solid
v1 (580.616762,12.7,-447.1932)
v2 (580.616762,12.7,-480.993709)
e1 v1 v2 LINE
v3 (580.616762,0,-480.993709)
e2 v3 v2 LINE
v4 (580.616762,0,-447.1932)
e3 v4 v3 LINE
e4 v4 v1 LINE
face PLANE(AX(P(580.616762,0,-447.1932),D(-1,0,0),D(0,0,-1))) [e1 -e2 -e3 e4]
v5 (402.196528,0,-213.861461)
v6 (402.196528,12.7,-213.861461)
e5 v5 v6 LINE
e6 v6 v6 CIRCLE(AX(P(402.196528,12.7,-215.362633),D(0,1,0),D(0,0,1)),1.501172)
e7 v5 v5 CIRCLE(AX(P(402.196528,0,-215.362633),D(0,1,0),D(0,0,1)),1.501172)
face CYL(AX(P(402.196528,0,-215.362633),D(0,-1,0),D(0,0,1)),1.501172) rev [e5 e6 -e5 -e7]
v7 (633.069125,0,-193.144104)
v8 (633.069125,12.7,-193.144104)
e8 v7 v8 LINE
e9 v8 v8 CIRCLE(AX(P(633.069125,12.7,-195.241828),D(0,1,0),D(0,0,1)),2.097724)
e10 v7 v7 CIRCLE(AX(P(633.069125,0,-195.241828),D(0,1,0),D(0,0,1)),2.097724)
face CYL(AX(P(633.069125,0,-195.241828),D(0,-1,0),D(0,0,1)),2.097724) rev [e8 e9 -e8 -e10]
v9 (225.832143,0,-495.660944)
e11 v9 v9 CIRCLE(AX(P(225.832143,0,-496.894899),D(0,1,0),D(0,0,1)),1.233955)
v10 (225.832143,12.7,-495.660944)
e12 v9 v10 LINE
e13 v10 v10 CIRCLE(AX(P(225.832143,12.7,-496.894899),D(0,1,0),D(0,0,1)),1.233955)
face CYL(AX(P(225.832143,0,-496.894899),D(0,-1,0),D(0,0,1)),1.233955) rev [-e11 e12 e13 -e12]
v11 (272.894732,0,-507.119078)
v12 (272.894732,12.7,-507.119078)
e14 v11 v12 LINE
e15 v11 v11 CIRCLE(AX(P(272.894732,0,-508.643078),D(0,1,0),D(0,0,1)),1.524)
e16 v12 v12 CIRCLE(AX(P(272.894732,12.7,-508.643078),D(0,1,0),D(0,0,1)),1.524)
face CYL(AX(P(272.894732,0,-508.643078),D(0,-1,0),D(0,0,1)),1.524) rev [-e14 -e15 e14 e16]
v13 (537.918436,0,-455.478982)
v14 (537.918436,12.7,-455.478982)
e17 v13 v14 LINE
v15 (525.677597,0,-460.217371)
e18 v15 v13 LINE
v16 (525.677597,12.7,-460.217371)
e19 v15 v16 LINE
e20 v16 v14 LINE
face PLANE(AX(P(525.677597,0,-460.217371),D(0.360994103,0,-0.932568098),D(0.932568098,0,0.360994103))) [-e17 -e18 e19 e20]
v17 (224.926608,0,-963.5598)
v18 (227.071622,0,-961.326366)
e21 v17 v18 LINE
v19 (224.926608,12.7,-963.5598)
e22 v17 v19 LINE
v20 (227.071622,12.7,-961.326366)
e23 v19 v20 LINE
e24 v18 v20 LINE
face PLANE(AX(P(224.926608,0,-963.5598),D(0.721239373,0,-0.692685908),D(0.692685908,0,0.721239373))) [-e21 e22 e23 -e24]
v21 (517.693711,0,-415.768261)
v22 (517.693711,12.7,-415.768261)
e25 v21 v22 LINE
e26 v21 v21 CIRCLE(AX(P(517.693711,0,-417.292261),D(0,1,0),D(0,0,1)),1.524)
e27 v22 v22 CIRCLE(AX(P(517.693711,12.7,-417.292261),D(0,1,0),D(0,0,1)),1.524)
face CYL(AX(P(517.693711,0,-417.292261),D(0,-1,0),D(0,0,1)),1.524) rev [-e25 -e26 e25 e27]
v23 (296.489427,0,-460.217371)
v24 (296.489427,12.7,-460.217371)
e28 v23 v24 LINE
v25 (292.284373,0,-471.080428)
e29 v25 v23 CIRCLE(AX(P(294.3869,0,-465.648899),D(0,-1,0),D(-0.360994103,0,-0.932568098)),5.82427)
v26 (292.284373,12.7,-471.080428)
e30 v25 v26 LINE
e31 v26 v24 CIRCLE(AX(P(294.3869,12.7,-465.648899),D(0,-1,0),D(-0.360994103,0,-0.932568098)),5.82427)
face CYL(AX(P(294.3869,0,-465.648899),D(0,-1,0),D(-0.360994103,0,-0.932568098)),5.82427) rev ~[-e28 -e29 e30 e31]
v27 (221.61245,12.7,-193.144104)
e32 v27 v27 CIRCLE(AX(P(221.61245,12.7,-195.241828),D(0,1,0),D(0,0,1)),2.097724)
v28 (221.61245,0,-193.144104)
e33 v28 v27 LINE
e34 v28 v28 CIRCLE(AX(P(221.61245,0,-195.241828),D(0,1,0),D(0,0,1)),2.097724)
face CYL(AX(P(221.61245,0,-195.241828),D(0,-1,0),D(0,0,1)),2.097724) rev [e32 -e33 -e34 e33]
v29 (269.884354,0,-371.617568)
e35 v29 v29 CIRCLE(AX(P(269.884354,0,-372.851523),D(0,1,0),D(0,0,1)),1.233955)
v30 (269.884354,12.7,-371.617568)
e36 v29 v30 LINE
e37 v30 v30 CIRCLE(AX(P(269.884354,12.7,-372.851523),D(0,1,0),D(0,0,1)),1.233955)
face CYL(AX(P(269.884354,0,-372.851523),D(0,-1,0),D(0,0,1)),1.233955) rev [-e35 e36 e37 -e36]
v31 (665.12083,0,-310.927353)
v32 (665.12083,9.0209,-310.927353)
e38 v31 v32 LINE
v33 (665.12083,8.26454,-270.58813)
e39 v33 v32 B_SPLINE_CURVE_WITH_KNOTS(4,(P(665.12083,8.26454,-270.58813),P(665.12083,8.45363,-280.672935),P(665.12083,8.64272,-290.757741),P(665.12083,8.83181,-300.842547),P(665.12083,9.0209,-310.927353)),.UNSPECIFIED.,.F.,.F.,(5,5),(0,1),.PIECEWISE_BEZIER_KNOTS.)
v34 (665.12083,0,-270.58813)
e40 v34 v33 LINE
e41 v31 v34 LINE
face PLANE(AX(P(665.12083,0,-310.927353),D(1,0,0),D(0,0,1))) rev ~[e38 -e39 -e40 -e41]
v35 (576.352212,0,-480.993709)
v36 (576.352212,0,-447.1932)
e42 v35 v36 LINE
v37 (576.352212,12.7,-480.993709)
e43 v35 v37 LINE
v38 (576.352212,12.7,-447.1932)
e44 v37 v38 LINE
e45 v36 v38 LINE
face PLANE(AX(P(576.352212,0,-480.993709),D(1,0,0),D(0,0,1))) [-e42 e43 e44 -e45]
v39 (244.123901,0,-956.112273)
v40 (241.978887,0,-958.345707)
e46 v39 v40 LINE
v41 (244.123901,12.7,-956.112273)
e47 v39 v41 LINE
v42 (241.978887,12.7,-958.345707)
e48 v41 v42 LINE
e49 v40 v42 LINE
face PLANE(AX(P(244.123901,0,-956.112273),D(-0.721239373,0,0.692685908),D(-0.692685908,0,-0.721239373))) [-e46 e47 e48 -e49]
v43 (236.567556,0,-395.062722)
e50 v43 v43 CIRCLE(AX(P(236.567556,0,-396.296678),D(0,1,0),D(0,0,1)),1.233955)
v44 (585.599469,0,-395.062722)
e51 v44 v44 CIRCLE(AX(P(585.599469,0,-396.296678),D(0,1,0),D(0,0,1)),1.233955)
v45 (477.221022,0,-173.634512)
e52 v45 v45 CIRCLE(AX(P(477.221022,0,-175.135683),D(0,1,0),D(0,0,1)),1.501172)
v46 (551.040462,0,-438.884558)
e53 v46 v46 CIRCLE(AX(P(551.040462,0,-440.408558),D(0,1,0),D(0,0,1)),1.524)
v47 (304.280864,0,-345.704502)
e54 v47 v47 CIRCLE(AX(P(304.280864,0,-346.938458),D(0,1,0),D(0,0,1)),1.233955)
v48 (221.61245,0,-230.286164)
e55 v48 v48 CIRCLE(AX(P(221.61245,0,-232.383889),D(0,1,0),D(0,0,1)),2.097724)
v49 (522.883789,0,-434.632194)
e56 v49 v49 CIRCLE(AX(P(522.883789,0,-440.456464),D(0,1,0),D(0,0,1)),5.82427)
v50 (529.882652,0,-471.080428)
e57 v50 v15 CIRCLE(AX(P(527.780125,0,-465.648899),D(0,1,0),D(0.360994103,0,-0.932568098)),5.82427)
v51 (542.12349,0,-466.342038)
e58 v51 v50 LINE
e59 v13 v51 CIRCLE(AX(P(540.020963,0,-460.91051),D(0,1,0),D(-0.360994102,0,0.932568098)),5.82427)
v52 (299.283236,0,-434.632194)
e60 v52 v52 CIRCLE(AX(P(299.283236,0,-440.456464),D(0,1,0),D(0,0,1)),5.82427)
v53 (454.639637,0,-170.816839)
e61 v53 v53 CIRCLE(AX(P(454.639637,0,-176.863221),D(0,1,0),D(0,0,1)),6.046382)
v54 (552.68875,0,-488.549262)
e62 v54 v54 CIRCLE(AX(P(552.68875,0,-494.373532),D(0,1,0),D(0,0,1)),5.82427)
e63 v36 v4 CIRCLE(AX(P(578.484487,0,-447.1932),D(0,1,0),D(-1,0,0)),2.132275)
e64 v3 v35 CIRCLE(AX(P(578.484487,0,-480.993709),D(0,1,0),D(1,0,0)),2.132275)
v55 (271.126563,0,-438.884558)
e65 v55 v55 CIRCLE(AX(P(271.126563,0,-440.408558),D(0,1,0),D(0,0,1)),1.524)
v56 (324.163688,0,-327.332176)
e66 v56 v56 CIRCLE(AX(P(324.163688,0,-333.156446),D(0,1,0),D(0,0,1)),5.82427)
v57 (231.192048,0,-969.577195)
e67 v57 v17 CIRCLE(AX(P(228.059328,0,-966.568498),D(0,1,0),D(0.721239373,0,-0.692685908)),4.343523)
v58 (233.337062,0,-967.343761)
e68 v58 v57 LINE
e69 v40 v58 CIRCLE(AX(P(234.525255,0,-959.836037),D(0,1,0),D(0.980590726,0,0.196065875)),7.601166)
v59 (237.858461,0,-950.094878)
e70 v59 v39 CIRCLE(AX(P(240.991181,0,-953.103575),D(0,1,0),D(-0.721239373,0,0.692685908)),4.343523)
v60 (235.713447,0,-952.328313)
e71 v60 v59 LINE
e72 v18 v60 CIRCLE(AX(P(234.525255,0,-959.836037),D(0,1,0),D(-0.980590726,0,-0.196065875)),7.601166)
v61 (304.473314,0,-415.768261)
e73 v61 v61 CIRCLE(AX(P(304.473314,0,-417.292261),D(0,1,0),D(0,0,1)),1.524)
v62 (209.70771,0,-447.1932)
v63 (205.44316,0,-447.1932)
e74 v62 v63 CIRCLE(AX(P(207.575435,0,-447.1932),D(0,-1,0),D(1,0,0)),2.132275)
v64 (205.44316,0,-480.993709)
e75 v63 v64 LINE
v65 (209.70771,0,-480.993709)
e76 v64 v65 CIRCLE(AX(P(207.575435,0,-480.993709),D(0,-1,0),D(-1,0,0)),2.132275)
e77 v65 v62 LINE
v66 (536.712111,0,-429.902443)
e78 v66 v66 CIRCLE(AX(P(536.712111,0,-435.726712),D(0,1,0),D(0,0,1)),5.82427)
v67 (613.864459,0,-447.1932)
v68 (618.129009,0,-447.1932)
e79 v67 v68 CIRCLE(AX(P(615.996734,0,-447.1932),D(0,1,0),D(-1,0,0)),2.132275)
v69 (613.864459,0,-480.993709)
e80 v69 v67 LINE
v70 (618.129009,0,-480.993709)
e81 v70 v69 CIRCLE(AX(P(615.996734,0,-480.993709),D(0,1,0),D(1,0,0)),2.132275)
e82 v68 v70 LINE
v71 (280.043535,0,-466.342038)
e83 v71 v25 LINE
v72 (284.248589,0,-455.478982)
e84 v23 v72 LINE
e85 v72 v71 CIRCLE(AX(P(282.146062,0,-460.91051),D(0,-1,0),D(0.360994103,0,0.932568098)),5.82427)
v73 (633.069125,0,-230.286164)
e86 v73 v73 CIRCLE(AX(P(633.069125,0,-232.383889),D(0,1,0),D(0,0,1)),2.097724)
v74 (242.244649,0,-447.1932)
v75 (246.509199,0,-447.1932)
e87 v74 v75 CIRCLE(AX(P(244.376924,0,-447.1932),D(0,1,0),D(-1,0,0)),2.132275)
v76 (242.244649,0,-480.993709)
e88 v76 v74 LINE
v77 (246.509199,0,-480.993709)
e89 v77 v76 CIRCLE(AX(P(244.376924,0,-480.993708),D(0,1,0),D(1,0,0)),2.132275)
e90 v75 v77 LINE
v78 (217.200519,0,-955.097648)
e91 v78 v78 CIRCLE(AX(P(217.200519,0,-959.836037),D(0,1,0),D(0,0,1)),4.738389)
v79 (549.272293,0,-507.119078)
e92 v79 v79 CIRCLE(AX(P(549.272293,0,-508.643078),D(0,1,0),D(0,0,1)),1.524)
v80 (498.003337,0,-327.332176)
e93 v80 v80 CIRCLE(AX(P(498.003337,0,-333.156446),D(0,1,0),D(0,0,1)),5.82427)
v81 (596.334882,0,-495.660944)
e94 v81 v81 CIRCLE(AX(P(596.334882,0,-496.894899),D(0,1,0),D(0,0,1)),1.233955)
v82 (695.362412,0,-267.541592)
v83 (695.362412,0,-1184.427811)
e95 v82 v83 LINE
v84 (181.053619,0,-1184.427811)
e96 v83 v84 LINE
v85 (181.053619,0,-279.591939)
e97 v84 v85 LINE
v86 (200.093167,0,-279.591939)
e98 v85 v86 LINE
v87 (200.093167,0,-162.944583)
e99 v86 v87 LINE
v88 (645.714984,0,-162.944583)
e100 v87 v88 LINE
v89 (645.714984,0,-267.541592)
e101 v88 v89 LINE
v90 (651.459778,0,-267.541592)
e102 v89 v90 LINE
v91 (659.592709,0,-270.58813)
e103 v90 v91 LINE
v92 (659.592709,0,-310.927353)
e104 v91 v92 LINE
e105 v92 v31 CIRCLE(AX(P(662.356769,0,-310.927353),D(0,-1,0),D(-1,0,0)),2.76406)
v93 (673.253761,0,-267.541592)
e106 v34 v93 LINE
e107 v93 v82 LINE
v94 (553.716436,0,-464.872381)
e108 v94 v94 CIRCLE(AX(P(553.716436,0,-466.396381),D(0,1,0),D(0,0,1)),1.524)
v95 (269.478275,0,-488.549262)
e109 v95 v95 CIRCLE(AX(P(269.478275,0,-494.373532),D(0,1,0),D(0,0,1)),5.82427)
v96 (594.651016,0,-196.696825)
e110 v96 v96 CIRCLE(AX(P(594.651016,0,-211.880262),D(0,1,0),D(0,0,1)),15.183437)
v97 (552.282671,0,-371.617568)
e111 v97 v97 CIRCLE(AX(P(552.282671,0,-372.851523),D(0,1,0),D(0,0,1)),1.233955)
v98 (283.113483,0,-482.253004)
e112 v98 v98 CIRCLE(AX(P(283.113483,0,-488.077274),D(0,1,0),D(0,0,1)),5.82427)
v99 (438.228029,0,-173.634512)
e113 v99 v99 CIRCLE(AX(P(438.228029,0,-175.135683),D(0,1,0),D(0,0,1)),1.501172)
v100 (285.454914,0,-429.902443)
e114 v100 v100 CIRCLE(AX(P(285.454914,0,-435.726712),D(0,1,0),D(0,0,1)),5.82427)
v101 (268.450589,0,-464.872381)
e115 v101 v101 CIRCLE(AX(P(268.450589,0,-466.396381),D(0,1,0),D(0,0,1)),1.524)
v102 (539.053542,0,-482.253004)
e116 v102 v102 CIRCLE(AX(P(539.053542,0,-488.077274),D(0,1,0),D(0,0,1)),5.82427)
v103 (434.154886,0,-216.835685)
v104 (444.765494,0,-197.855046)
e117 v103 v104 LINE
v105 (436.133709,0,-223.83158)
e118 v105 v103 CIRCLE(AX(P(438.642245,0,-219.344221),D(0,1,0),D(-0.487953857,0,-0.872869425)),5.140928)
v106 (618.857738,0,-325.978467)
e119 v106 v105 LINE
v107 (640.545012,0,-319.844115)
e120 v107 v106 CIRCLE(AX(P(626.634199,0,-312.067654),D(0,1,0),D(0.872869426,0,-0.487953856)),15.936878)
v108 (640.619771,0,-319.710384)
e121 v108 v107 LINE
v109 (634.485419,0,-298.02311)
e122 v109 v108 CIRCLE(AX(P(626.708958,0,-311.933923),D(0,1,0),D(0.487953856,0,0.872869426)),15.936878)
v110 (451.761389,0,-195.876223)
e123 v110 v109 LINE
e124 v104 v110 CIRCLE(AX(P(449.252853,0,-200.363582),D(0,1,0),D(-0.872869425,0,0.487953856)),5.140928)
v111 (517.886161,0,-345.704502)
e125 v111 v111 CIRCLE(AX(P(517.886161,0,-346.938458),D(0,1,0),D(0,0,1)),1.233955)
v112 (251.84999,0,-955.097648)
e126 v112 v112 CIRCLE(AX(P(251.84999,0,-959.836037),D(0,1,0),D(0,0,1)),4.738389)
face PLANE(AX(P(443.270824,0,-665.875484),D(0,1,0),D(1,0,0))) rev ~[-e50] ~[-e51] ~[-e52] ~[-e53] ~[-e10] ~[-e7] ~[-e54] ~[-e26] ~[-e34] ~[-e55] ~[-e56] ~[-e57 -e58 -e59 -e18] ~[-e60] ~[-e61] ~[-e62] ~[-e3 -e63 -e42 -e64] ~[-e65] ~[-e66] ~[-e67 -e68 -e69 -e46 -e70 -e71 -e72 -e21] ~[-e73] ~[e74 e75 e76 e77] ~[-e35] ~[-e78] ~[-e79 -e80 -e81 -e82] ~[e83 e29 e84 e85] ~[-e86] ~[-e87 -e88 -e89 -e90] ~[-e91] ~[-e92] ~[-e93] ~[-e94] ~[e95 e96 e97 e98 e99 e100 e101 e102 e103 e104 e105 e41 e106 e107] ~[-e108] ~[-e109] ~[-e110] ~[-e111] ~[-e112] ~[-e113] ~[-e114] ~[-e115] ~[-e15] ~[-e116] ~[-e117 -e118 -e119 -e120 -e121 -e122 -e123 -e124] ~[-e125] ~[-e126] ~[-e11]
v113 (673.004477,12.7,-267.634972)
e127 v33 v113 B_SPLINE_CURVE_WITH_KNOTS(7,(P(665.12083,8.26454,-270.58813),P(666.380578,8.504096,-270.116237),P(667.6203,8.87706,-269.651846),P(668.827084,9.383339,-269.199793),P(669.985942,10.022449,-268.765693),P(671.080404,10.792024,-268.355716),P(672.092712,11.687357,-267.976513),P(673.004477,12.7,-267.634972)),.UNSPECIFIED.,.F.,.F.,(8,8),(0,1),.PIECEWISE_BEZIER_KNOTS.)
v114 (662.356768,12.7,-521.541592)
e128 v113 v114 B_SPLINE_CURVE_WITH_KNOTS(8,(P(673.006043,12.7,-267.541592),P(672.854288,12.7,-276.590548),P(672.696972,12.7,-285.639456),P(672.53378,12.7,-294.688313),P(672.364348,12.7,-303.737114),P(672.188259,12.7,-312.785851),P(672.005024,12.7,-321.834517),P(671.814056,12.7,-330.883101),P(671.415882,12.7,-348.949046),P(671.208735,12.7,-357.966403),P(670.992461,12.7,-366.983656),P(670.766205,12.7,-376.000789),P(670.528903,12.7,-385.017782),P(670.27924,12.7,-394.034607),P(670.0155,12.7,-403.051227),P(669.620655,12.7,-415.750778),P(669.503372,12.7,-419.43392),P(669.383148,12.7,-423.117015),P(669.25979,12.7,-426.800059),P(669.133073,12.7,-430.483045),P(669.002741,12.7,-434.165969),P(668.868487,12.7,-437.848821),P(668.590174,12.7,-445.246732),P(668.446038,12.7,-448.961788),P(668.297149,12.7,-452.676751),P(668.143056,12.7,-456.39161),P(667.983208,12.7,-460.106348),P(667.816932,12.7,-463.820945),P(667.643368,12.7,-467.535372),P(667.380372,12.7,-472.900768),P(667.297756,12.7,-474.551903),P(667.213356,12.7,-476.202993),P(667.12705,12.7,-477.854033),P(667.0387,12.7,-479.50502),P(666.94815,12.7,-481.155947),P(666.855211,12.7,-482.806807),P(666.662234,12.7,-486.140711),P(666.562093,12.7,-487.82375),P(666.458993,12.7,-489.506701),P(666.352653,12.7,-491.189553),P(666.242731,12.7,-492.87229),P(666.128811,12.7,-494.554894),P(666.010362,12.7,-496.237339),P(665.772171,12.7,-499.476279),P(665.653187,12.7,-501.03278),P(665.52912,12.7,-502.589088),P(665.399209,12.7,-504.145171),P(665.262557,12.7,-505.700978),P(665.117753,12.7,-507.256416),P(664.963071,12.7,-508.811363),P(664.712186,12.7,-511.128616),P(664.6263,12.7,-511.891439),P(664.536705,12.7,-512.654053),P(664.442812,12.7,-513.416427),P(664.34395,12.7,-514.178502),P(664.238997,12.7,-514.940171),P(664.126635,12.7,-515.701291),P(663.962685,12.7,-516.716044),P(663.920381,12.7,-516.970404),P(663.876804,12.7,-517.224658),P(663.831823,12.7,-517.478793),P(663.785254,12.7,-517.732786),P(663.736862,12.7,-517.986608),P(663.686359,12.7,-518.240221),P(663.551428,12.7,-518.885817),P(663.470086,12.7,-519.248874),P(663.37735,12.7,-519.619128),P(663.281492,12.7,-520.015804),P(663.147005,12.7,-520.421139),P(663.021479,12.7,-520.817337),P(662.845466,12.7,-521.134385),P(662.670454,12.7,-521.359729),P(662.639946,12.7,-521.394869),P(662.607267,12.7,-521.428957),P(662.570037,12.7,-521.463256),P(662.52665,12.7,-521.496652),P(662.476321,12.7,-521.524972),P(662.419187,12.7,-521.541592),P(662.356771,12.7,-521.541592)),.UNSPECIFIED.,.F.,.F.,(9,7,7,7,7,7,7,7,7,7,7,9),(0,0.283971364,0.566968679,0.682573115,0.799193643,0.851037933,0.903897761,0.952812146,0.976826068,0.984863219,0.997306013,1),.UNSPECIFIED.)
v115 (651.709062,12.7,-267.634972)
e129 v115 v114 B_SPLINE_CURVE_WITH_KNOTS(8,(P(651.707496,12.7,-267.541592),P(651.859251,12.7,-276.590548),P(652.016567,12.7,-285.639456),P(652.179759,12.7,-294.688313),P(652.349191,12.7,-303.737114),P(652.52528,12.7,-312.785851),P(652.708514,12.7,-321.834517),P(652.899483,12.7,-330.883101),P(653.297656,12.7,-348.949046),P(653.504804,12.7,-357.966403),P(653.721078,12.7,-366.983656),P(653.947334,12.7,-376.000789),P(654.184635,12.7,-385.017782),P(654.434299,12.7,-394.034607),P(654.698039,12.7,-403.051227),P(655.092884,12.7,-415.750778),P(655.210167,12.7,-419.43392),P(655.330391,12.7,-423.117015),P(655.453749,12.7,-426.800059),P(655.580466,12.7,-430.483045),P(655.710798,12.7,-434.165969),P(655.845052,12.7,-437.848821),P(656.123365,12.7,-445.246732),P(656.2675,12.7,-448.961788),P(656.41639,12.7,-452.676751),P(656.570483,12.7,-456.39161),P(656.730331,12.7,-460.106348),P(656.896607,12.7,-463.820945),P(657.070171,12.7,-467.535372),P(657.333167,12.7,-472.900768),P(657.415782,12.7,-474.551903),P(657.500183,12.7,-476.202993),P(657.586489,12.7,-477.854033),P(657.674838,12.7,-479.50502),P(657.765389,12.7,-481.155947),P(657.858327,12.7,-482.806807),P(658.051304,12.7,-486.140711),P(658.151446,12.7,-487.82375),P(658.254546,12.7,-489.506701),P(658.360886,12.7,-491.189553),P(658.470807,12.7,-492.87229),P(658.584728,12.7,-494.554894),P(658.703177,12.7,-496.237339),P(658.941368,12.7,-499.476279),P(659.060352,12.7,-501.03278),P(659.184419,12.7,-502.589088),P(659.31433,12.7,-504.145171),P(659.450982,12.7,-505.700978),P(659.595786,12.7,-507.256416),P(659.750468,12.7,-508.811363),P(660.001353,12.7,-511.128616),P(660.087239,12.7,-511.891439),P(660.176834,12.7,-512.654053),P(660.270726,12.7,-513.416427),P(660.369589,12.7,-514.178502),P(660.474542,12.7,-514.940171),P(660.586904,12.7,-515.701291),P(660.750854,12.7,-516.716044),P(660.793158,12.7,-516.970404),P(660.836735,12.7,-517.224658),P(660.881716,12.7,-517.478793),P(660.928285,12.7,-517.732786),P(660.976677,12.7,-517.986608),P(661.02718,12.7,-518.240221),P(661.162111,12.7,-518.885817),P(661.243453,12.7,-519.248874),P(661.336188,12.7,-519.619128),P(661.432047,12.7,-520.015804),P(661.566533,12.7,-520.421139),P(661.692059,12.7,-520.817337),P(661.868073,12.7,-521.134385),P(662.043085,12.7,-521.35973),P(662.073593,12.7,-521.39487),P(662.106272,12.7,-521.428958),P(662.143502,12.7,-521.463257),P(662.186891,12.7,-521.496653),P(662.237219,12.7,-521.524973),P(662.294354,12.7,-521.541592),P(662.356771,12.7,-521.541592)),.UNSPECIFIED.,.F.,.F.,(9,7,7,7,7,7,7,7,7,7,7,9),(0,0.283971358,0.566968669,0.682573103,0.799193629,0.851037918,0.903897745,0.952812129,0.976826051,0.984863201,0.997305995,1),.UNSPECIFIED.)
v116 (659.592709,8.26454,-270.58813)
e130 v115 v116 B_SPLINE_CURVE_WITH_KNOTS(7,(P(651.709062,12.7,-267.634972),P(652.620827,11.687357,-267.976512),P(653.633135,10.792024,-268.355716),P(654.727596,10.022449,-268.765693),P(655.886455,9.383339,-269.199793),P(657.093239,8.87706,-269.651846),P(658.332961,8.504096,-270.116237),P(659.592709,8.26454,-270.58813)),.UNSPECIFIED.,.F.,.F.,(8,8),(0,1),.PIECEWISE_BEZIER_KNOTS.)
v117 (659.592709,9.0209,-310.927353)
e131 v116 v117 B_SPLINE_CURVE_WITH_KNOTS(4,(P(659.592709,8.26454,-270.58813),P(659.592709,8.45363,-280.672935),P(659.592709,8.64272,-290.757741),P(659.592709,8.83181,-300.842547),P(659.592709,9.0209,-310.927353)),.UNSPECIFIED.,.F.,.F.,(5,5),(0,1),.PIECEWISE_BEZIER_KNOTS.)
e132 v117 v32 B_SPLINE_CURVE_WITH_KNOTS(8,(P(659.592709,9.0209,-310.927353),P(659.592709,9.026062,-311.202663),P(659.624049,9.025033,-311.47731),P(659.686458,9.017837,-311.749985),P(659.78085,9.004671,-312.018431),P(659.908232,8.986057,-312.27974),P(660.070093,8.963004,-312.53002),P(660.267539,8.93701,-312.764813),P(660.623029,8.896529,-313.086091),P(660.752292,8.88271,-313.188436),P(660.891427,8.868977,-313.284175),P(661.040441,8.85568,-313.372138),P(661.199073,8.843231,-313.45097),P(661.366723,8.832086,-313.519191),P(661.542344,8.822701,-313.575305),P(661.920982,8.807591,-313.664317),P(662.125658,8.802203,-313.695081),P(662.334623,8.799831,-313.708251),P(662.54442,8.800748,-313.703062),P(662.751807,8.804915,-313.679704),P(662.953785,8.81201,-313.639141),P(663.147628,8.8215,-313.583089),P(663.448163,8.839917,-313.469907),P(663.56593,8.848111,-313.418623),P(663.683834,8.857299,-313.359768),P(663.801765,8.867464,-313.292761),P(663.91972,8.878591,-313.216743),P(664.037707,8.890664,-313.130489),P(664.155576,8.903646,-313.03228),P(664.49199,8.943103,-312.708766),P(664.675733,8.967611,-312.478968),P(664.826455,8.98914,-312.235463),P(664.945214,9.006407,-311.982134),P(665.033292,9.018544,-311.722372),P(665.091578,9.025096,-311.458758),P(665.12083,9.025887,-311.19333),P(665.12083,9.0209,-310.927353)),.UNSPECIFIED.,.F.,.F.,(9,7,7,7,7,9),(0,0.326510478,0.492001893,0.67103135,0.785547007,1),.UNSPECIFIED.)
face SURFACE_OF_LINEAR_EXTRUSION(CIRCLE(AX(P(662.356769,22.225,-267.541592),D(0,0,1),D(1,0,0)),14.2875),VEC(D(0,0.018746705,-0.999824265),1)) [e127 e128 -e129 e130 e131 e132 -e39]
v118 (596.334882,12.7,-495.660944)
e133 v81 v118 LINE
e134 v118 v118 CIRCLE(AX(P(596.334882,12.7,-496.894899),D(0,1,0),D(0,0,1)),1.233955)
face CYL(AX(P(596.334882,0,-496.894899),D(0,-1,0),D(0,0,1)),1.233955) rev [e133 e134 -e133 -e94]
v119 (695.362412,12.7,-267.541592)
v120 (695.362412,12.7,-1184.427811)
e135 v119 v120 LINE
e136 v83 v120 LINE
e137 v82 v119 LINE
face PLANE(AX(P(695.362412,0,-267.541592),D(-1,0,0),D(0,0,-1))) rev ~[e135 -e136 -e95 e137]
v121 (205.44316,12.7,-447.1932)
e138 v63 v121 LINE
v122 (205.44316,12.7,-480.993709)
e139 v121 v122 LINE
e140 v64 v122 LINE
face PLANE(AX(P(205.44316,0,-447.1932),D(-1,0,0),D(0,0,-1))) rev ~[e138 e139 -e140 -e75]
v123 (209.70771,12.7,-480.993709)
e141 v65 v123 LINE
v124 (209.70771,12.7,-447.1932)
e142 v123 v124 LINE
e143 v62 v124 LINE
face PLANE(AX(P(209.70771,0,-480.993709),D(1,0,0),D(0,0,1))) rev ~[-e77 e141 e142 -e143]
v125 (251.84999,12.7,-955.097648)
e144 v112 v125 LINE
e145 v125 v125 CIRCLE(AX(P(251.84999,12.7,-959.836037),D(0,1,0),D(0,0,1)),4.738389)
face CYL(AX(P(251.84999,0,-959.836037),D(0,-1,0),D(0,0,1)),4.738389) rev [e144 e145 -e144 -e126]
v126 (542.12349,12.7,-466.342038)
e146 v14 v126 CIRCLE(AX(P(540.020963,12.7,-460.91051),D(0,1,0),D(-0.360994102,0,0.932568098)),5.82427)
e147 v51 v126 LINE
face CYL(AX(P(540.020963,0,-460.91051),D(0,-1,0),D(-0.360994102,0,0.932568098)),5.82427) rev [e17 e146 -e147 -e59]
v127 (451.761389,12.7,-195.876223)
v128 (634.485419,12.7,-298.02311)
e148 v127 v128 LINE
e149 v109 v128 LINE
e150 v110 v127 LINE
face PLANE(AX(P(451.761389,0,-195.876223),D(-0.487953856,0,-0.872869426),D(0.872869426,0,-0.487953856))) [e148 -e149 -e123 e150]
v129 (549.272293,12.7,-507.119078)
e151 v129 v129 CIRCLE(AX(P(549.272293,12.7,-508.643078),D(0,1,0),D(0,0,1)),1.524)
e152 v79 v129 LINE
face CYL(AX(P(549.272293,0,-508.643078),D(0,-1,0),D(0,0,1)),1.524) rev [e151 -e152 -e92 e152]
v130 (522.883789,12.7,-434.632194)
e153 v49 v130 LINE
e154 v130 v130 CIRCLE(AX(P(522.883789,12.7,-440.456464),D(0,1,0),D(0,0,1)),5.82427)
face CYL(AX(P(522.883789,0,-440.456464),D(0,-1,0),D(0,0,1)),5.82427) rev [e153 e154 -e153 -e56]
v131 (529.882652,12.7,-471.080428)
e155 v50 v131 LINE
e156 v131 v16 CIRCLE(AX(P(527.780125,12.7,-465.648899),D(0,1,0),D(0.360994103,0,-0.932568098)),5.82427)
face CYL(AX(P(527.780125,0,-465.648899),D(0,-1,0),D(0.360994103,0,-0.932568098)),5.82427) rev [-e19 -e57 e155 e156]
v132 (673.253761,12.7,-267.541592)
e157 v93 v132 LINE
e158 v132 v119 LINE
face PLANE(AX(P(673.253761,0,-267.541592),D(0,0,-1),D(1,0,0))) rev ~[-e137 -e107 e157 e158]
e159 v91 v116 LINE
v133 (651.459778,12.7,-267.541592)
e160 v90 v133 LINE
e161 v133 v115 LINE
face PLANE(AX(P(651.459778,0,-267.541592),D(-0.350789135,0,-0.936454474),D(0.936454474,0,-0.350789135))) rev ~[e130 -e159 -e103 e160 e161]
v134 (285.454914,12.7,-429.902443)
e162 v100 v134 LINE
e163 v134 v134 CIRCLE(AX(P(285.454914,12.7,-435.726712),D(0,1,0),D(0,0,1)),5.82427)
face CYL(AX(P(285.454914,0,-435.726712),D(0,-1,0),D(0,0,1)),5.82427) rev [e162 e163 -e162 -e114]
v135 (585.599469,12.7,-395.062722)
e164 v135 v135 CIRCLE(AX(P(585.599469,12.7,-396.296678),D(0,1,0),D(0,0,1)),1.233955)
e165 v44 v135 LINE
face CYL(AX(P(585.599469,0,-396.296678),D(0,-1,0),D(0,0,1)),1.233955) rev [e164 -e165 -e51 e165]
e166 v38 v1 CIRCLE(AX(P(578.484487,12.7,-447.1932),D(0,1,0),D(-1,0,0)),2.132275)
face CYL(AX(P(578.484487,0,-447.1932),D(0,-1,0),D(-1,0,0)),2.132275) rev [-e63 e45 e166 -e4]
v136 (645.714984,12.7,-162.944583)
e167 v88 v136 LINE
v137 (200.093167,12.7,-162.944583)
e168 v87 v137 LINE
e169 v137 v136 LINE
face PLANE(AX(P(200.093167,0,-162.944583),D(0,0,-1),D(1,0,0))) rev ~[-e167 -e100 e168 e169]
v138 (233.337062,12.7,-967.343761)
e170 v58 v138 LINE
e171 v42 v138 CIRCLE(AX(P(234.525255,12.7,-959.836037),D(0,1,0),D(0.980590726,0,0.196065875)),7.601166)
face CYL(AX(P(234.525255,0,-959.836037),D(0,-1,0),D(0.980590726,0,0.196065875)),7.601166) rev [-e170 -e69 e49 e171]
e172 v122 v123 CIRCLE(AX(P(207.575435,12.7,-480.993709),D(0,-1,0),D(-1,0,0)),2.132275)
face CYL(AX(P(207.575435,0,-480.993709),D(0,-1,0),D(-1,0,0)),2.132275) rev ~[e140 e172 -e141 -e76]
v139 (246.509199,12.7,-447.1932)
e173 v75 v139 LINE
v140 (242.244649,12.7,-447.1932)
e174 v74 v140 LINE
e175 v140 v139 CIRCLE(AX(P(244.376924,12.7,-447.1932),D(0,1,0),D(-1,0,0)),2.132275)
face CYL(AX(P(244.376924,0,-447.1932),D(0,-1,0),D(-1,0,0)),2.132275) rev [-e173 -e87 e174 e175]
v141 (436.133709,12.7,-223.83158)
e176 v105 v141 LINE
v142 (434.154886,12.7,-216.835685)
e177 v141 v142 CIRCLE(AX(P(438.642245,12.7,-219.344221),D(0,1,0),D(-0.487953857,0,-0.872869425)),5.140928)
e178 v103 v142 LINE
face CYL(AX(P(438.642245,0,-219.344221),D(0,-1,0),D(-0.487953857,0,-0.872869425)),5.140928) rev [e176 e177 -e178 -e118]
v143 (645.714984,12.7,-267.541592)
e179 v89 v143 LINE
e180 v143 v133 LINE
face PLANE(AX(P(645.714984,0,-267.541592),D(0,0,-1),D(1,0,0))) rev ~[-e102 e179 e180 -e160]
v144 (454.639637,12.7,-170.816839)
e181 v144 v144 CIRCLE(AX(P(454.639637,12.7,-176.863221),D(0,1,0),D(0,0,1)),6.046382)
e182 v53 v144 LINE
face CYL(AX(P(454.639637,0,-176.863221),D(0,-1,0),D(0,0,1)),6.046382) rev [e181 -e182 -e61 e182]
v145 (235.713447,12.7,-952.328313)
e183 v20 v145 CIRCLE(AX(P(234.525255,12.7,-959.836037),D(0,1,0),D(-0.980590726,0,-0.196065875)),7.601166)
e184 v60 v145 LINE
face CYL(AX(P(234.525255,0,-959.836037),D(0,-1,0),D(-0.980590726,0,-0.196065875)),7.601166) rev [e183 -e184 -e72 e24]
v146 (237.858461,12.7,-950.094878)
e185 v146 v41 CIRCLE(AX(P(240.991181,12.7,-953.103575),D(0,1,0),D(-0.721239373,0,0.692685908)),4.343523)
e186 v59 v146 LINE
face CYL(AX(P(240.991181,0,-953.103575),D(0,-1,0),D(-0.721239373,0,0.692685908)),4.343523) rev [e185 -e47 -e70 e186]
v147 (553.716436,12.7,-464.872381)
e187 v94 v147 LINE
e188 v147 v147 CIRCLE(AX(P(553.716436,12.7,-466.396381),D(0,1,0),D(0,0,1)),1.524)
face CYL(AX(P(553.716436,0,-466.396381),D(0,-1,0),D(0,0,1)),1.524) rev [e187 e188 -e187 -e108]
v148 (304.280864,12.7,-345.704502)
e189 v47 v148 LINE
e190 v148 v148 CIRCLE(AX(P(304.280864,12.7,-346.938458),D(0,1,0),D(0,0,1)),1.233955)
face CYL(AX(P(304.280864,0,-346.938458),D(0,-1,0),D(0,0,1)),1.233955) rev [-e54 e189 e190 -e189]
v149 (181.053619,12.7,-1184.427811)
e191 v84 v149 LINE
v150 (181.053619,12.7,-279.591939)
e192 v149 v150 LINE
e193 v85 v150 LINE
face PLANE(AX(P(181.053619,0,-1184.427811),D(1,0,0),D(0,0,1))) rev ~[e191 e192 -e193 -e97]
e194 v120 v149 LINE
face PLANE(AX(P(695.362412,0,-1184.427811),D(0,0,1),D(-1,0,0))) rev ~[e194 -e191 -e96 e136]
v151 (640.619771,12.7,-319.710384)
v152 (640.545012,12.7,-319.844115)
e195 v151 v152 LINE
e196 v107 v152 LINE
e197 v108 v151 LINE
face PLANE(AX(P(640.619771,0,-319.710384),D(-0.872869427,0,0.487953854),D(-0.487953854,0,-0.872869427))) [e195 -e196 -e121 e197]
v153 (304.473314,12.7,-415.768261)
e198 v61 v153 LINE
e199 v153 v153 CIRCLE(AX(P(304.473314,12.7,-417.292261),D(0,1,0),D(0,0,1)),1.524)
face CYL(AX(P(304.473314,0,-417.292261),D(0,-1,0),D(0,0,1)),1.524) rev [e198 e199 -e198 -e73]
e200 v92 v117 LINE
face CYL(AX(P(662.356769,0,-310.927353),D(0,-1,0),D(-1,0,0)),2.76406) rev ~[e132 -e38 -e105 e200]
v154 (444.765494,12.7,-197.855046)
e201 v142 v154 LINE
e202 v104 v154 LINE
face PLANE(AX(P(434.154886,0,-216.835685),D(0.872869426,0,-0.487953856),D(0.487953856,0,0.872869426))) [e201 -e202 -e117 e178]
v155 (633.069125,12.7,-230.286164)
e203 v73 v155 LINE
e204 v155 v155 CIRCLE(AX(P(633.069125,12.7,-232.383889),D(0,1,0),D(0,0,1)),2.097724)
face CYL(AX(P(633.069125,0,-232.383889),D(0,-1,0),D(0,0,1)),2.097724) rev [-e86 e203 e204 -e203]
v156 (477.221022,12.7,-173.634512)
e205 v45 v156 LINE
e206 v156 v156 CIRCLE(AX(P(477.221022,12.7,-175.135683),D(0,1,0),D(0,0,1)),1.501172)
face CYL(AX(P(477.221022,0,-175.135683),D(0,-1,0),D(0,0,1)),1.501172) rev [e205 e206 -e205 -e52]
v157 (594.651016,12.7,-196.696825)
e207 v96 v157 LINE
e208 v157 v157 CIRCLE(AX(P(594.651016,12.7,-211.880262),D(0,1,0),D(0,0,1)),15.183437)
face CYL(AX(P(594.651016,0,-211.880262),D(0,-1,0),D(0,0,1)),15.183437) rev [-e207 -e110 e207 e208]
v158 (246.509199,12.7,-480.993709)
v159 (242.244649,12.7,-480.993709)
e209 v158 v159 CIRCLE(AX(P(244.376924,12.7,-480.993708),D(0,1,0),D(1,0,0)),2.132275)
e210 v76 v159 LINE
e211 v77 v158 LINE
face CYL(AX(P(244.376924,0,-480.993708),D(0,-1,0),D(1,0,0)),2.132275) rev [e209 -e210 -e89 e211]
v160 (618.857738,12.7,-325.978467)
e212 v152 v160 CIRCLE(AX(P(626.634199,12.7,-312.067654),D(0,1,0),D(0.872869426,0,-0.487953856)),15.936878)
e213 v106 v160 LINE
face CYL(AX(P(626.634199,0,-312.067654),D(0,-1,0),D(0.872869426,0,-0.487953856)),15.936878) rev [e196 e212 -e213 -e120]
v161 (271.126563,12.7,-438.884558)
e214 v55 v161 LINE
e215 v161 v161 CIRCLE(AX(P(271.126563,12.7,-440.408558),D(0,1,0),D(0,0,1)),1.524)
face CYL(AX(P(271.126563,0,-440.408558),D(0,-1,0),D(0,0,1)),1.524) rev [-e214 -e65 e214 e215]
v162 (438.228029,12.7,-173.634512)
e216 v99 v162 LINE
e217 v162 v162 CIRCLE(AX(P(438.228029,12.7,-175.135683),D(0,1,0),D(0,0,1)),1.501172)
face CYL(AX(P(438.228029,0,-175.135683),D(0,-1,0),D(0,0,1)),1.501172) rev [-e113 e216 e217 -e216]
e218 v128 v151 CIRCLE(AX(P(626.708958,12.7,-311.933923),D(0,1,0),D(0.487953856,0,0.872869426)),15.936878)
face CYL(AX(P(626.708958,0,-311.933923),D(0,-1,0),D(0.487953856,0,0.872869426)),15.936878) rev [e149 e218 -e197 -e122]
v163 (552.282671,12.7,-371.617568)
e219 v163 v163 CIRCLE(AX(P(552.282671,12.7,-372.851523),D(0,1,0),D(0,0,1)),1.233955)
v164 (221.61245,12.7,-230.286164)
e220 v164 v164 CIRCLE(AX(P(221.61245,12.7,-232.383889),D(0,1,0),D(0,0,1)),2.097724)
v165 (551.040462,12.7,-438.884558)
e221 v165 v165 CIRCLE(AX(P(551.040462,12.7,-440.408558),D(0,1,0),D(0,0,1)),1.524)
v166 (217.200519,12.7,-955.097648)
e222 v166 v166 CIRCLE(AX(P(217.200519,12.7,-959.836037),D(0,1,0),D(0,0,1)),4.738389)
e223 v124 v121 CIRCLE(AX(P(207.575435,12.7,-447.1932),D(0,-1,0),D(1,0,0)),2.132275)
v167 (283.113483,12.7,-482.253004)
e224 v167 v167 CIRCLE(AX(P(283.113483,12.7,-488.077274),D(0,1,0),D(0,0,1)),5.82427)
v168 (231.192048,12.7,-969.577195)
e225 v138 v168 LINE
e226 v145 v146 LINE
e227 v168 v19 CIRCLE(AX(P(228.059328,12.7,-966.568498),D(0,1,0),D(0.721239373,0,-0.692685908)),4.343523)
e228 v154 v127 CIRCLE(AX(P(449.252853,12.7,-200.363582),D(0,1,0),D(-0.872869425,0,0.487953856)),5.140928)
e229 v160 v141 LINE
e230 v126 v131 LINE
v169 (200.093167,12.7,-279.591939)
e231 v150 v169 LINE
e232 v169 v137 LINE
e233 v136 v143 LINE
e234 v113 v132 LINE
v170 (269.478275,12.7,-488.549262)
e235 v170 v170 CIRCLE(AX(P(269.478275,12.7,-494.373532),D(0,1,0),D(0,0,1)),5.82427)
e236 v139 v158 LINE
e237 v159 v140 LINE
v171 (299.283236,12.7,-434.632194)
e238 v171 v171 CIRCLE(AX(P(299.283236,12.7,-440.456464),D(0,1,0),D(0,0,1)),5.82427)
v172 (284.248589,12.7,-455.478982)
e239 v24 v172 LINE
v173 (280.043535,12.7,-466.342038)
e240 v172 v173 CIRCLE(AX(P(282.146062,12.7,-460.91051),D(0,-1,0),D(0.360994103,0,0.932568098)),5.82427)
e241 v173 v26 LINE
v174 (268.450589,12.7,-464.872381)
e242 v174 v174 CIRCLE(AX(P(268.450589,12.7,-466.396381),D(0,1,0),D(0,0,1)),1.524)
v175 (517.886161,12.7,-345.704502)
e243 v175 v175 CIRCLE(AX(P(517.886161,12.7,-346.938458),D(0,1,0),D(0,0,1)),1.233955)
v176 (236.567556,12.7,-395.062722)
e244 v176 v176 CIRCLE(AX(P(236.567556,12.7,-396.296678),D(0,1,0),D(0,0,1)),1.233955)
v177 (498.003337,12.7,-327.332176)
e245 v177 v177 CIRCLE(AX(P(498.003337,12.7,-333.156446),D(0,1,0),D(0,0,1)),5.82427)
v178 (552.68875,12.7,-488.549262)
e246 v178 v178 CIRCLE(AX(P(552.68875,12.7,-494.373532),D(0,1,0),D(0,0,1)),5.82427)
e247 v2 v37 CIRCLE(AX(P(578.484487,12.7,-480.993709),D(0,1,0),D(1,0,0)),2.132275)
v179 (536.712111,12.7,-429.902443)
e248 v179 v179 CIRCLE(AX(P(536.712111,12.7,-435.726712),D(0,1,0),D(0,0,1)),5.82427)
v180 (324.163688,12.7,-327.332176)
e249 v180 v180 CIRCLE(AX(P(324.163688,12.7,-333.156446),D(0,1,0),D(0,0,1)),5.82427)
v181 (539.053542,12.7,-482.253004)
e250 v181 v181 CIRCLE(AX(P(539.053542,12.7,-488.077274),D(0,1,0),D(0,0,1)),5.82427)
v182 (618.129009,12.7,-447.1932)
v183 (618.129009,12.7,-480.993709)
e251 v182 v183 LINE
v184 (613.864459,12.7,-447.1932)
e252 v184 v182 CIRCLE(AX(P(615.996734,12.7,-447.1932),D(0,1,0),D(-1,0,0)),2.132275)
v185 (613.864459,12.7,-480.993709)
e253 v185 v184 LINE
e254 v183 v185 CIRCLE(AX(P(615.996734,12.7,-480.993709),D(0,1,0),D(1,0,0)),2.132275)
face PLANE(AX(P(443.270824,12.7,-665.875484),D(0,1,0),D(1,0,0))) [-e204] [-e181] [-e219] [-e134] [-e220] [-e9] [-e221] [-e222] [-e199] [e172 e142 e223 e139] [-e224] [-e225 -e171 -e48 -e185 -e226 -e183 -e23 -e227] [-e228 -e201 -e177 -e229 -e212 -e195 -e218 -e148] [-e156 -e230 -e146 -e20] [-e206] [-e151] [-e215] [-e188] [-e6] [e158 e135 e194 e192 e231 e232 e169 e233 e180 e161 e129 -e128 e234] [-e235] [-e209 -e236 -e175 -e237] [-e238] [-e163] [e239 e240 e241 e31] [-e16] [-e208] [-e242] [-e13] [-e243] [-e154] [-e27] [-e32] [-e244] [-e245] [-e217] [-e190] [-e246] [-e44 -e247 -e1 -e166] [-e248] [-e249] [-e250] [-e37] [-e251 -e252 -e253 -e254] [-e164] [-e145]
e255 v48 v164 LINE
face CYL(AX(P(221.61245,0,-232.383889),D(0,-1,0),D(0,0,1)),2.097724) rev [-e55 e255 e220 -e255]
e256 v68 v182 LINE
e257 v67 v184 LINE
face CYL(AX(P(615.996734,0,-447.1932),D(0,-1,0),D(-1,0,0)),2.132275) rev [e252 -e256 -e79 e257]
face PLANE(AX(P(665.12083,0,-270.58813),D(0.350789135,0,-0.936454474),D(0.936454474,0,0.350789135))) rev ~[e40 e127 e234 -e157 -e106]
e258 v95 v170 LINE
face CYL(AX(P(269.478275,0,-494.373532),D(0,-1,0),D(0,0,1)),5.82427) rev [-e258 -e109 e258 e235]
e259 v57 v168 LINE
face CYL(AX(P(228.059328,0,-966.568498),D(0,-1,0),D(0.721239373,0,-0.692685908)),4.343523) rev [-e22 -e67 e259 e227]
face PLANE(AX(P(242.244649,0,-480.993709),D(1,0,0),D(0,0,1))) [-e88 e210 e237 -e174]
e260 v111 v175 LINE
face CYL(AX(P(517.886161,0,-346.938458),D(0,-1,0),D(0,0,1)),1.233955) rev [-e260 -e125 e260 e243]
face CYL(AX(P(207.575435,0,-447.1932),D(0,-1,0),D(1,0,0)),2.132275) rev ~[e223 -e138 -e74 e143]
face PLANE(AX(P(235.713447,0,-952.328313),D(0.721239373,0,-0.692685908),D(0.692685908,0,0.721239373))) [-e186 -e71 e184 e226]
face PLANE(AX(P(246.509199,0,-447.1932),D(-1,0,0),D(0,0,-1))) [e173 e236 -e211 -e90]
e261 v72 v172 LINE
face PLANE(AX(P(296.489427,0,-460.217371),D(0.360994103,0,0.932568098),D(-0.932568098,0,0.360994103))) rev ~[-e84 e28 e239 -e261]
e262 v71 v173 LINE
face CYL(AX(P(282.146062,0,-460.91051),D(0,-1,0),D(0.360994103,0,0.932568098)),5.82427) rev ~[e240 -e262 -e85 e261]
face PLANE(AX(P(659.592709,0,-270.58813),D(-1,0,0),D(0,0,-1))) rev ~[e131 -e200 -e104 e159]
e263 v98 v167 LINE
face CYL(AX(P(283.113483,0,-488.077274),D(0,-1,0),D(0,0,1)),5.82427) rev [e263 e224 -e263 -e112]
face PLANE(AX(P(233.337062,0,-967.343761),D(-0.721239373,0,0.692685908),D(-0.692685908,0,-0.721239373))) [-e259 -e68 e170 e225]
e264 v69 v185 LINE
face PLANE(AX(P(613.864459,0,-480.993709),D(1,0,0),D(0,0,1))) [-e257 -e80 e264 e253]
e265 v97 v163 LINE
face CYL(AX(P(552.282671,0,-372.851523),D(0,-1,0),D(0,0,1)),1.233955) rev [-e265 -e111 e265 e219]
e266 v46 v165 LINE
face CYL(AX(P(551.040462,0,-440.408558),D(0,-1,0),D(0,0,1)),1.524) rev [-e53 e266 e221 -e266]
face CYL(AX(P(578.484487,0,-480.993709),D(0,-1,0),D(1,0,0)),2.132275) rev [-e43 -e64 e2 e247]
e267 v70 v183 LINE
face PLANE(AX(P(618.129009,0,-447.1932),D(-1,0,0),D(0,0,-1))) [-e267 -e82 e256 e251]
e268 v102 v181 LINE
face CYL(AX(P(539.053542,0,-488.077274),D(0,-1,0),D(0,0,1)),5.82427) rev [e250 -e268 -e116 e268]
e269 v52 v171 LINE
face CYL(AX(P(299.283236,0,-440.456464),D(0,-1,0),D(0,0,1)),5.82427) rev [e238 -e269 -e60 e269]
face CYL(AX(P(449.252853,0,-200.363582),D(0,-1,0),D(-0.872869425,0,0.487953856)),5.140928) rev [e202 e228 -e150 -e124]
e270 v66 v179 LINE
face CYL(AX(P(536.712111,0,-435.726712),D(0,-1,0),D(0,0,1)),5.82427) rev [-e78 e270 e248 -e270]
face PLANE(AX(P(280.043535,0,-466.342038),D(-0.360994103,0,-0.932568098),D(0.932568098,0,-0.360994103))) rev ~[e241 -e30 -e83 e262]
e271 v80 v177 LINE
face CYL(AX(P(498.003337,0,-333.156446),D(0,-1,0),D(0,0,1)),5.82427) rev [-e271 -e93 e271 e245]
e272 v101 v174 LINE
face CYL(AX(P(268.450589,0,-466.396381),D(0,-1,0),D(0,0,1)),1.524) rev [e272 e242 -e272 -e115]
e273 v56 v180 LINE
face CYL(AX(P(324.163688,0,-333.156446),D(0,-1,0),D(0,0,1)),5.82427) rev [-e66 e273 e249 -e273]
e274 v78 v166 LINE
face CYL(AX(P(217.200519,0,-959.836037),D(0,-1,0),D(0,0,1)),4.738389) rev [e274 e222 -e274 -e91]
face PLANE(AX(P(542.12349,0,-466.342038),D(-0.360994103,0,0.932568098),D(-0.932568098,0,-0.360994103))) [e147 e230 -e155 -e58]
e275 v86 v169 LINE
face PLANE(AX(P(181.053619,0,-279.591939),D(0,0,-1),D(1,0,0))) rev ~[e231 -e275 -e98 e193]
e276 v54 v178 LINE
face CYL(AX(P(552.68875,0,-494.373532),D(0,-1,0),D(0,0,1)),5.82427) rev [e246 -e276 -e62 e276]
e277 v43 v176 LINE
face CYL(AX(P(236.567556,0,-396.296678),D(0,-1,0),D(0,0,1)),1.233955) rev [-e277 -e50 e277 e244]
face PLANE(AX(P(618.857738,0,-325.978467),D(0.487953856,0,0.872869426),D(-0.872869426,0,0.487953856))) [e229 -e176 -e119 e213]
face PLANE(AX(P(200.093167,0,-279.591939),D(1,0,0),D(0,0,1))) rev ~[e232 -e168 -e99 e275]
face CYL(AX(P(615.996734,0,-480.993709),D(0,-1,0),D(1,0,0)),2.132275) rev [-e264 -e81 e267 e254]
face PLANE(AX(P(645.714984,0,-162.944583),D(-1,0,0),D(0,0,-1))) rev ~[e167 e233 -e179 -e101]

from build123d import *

# Parameters (mm, degrees)
SKETCH1_R           = 5.824269922
SKETCH1_R_2         = 15.183436718
SKETCH1_R_3         = 2.097724336
SKETCH1_R_4         = 1.501171646
SKETCH1_R_5         = 6.046381911
SKETCH1_R_6         = 1.233955492
SKETCH1_R_7         = 4.738389089
SKETCH1_R_8         = 1.524
BOSS_EXTRUDE1_DEPTH = 12.7
SKETCH3_R           = 14.2875


with BuildPart() as part:
    # Sketch1 → Boss-Extrude1 (new body)
    with BuildSketch(Plane(origin=(0, 0, 0), x_dir=(1, 0, 0), z_dir=(0, 1, 0))):
        with BuildLine():
            Line((181.053619211, 279.591938546), (200.093166842, 279.591938546))
            Line((200.093166842, 279.591938546), (200.093166842, 162.94458344))
            Line((200.093166842, 162.94458344), (645.714984179, 162.94458344))
            Line((645.714984179, 162.94458344), (645.714984179, 267.541591944))
            Line((645.714984179, 267.541591944), (651.459778015, 267.541591944))
            Line((651.459778015, 267.541591944), (659.592709072, 270.588129637))
            Line((659.592709072, 270.588129637), (659.592709072, 310.92735289))
            ThreePointArc((659.592709072, 310.92735289), (662.356769374, 313.691413192), (665.120829676, 310.92735289))
            Line((665.120829676, 310.92735289), (665.120829676, 270.588129637))
            Line((665.120829676, 270.588129637), (673.253760733, 267.541591944))
            Line((673.253760733, 267.541591944), (695.362412179, 267.541591944))
            Line((695.362412179, 267.541591944), (695.362412179, 1184.427811096))
            Line((695.362412179, 1184.427811096), (181.053619211, 1184.427811096))
            Line((181.053619211, 1184.427811096), (181.053619211, 279.591938546))
        make_face()
        with Locations(Location((324.163687625, 333.156445716, 0), (0, 0, 270))):  # turned: the seam where the file's is
            Circle(SKETCH1_R, mode=Mode.SUBTRACT)
        with Locations(Location((498.003337343, 333.156445716, 0), (0, 0, 270))):  # turned: the seam where the file's is
            Circle(SKETCH1_R, mode=Mode.SUBTRACT)
        with Locations(Location((285.454913552, 435.726712451, 0), (0, 0, 270))):  # turned: the seam where the file's is
            Circle(SKETCH1_R, mode=Mode.SUBTRACT)
        with Locations(Location((269.478274819, 494.373532098, 0), (0, 0, 270))):  # turned: the seam where the file's is
            Circle(SKETCH1_R, mode=Mode.SUBTRACT)
        with Locations(Location((283.113483006, 488.0772742, 0), (0, 0, 270))):  # turned: the seam where the file's is
            Circle(SKETCH1_R, mode=Mode.SUBTRACT)
        with Locations(Location((299.283235774, 440.456463852, 0), (0, 0, 270))):  # turned: the seam where the file's is
            Circle(SKETCH1_R, mode=Mode.SUBTRACT)
        with Locations(Location((536.712111416, 435.726712451, 0), (0, 0, 270))):  # turned: the seam where the file's is
            Circle(SKETCH1_R, mode=Mode.SUBTRACT)
        with Locations(Location((552.688750149, 494.373532098, 0), (0, 0, 270))):  # turned: the seam where the file's is
            Circle(SKETCH1_R, mode=Mode.SUBTRACT)
        with Locations(Location((539.053541962, 488.0772742, 0), (0, 0, 270))):  # turned: the seam where the file's is
            Circle(SKETCH1_R, mode=Mode.SUBTRACT)
        with Locations(Location((522.883789195, 440.456463852, 0), (0, 0, 270))):  # turned: the seam where the file's is
            Circle(SKETCH1_R, mode=Mode.SUBTRACT)
        with Locations(Location((594.651015644, 211.880261627, 0), (0, 0, 270))):  # turned: the seam where the file's is
            Circle(SKETCH1_R_2, mode=Mode.SUBTRACT)
        with Locations(Location((221.612450161, 232.383888713, 0), (0, 0, 270))):  # turned: the seam where the file's is
            Circle(SKETCH1_R_3, mode=Mode.SUBTRACT)
        with Locations(Location((221.612450161, 195.241828402, 0), (0, 0, 270))):  # turned: the seam where the file's is
            Circle(SKETCH1_R_3, mode=Mode.SUBTRACT)
        with Locations(Location((633.069124813, 232.383888713, 0), (0, 0, 270))):  # turned: the seam where the file's is
            Circle(SKETCH1_R_3, mode=Mode.SUBTRACT)
        with Locations(Location((633.069124813, 195.241828402, 0), (0, 0, 270))):  # turned: the seam where the file's is
            Circle(SKETCH1_R_3, mode=Mode.SUBTRACT)
        with Locations(Location((402.196528277, 215.362632519, 0), (0, 0, 270))):  # turned: the seam where the file's is
            Circle(SKETCH1_R_4, mode=Mode.SUBTRACT)
        with Locations(Location((438.228028644, 175.135683479, 0), (0, 0, 270))):  # turned: the seam where the file's is
            Circle(SKETCH1_R_4, mode=Mode.SUBTRACT)
        with Locations(Location((477.221022192, 175.135683479, 0), (0, 0, 270))):  # turned: the seam where the file's is
            Circle(SKETCH1_R_4, mode=Mode.SUBTRACT)
        with Locations(Location((454.639636688, 176.863221168, 0), (0, 0, 270))):  # turned: the seam where the file's is
            Circle(SKETCH1_R_5, mode=Mode.SUBTRACT)
        with Locations(Location((225.832143337, 496.894899007, 0), (0, 0, 270))):  # turned: the seam where the file's is
            Circle(SKETCH1_R_6, mode=Mode.SUBTRACT)
        with Locations(Location((236.567556118, 396.296677519, 0), (0, 0, 270))):  # turned: the seam where the file's is
            Circle(SKETCH1_R_6, mode=Mode.SUBTRACT)
        with Locations(Location((269.884354403, 372.851523171, 0), (0, 0, 270))):  # turned: the seam where the file's is
            Circle(SKETCH1_R_6, mode=Mode.SUBTRACT)
        with Locations(Location((304.280863743, 346.938457838, 0), (0, 0, 270))):  # turned: the seam where the file's is
            Circle(SKETCH1_R_6, mode=Mode.SUBTRACT)
        with Locations(Location((596.334881631, 496.894899007, 0), (0, 0, 270))):  # turned: the seam where the file's is
            Circle(SKETCH1_R_6, mode=Mode.SUBTRACT)
        with Locations(Location((585.59946885, 396.296677519, 0), (0, 0, 270))):  # turned: the seam where the file's is
            Circle(SKETCH1_R_6, mode=Mode.SUBTRACT)
        with Locations(Location((552.282670565, 372.851523171, 0), (0, 0, 270))):  # turned: the seam where the file's is
            Circle(SKETCH1_R_6, mode=Mode.SUBTRACT)
        with Locations(Location((517.886161225, 346.938457838, 0), (0, 0, 270))):  # turned: the seam where the file's is
            Circle(SKETCH1_R_6, mode=Mode.SUBTRACT)
        with Locations(Location((217.200519411, 959.83603663, 0), (0, 0, 270))):  # turned: the seam where the file's is
            Circle(SKETCH1_R_7, mode=Mode.SUBTRACT)
        with Locations(Location((251.849989627, 959.83603663, 0), (0, 0, 270))):  # turned: the seam where the file's is
            Circle(SKETCH1_R_7, mode=Mode.SUBTRACT)
        with Locations(Location((272.894732067, 508.643077531, 0), (0, 0, 270))):  # turned: the seam where the file's is
            Circle(SKETCH1_R_8, mode=Mode.SUBTRACT)
        with Locations(Location((268.450589155, 466.396381192, 0), (0, 0, 270))):  # turned: the seam where the file's is
            Circle(SKETCH1_R_8, mode=Mode.SUBTRACT)
        with Locations(Location((271.126563031, 440.408557976, 0), (0, 0, 270))):  # turned: the seam where the file's is
            Circle(SKETCH1_R_8, mode=Mode.SUBTRACT)
        with Locations(Location((304.473314405, 417.292260573, 0), (0, 0, 270))):  # turned: the seam where the file's is
            Circle(SKETCH1_R_8, mode=Mode.SUBTRACT)
        with Locations(Location((549.272292901, 508.643077531, 0), (0, 0, 270))):  # turned: the seam where the file's is
            Circle(SKETCH1_R_8, mode=Mode.SUBTRACT)
        with Locations(Location((553.716435813, 466.396381192, 0), (0, 0, 270))):  # turned: the seam where the file's is
            Circle(SKETCH1_R_8, mode=Mode.SUBTRACT)
        with Locations(Location((551.040461937, 440.408557976, 0), (0, 0, 270))):  # turned: the seam where the file's is
            Circle(SKETCH1_R_8, mode=Mode.SUBTRACT)
        with Locations(Location((517.693710564, 417.292260573, 0), (0, 0, 270))):  # turned: the seam where the file's is
            Circle(SKETCH1_R_8, mode=Mode.SUBTRACT)
        with BuildLine():
            Line((280.043534807, 466.342038413), (292.284373288, 471.080427502))
            ThreePointArc((292.284373288, 471.080427502), (299.818428707, 467.751426271), (296.489427475, 460.217370852))
            Line((296.489427475, 460.217370852), (284.248588994, 455.478981762))
            ThreePointArc((284.248588994, 455.478981762), (276.714533575, 458.807982994), (280.043534807, 466.342038413))
        make_face(mode=Mode.SUBTRACT)
        with BuildLine():
            Line((542.123490162, 466.342038413), (529.882651681, 471.080427502))
            ThreePointArc((529.882651681, 471.080427502), (522.348596262, 467.751426271), (525.677597493, 460.217370852))
            Line((525.677597493, 460.217370852), (537.918435974, 455.478981762))
            ThreePointArc((537.918435974, 455.478981762), (545.452491393, 458.807982994), (542.123490162, 466.342038413))
        make_face(mode=Mode.SUBTRACT)
        with BuildLine():
            Line((209.707710439, 480.9937085), (209.707710439, 447.193199663))
            ThreePointArc((209.707710439, 447.193199663), (207.575435349, 445.060924572), (205.443160259, 447.193199663))
            Line((205.443160259, 447.193199663), (205.443160259, 480.9937085))
            ThreePointArc((205.443160259, 480.9937085), (207.575435349, 483.12598359), (209.707710439, 480.9937085))
        make_face(mode=Mode.SUBTRACT)
        with BuildLine():
            Line((242.244648853, 480.9937085), (242.244648853, 447.193199663))
            ThreePointArc((242.244648853, 447.193199663), (244.376923944, 445.060924572), (246.509199034, 447.193199663))
            Line((246.509199034, 447.193199663), (246.509199034, 480.9937085))
            ThreePointArc((246.509199034, 480.9937085), (244.376923944, 483.12598359), (242.244648853, 480.9937085))
        make_face(mode=Mode.SUBTRACT)
        with BuildLine():
            Line((576.352211687, 480.9937085), (576.352211687, 447.193199663))
            ThreePointArc((576.352211687, 447.193199663), (578.484486777, 445.060924572), (580.616761867, 447.193199663))
            Line((580.616761867, 447.193199663), (580.616761867, 480.9937085))
            ThreePointArc((580.616761867, 480.9937085), (578.484486777, 483.12598359), (576.352211687, 480.9937085))
        make_face(mode=Mode.SUBTRACT)
        with BuildLine():
            Line((613.864458645, 480.9937085), (613.864458645, 447.193199663))
            ThreePointArc((613.864458645, 447.193199663), (615.996733735, 445.060924572), (618.129008825, 447.193199663))
            Line((618.129008825, 447.193199663), (618.129008825, 480.9937085))
            ThreePointArc((618.129008825, 480.9937085), (615.996733735, 483.12598359), (613.864458645, 480.9937085))
        make_face(mode=Mode.SUBTRACT)
        with BuildLine():
            Line((640.619770917, 319.710384153), (640.545012441, 319.844114807))
            ThreePointArc((640.545012441, 319.844114807), (630.971841378, 327.402872478), (618.857738395, 325.978467108))
            Line((618.857738395, 325.978467108), (436.133708882, 223.831579783))
            ThreePointArc((436.133708882, 223.831579783), (433.695399956, 220.743460085), (434.154885559, 216.835684929))
            Line((434.154885559, 216.835684929), (444.765494249, 197.855046105))
            ThreePointArc((444.765494249, 197.855046105), (447.853613947, 195.416737179), (451.761389102, 195.876222782))
            Line((451.761389102, 195.876222782), (634.485418615, 298.023110107))
            ThreePointArc((634.485418615, 298.023110107), (642.044176286, 307.59628117), (640.619770917, 319.710384153))
        make_face(mode=Mode.SUBTRACT)
        with BuildLine():
            Line((235.713447154, 952.32831259), (237.858461253, 950.094878062))
            ThreePointArc((237.858461253, 950.094878062), (243.9998787, 949.970855421), (244.123901341, 956.112272868))
            Line((244.123901341, 956.112272868), (241.978887242, 958.345707396))
            ThreePointArc((241.978887242, 958.345707396), (240.007514596, 965.101257084), (233.337061884, 967.343760669))
            Line((233.337061884, 967.343760669), (231.192047785, 969.577195197))
            ThreePointArc((231.192047785, 969.577195197), (225.050630338, 969.701217838), (224.926607697, 963.559800391))
            Line((224.926607697, 963.559800391), (227.071621796, 961.326365863))
            ThreePointArc((227.071621796, 961.326365863), (229.042994442, 954.570816175), (235.713447154, 952.32831259))
        make_face(mode=Mode.SUBTRACT)
    extrude(amount=BOSS_EXTRUDE1_DEPTH)

    # Cut-Sweep1: sweep along a path in Sketch2
    with BuildLine(Plane(origin=(662.356769374, 0, 0), x_dir=(0, 0, -1), z_dir=(1, 0, 0))) as cut_sweep1_path:
        Line((267.541591944, 12.7), (521.541591944, 17.4625))
    # Sketch3 → Cut-Sweep1 (sweep, cut)
    with BuildSketch(Plane.XY.offset(-267.541591944)):
        with Locations((662.356769374, 22.225)):
            Circle(SKETCH3_R)
    sweep(path=cut_sweep1_path.line, mode=Mode.SUBTRACT)


solid = part.part
